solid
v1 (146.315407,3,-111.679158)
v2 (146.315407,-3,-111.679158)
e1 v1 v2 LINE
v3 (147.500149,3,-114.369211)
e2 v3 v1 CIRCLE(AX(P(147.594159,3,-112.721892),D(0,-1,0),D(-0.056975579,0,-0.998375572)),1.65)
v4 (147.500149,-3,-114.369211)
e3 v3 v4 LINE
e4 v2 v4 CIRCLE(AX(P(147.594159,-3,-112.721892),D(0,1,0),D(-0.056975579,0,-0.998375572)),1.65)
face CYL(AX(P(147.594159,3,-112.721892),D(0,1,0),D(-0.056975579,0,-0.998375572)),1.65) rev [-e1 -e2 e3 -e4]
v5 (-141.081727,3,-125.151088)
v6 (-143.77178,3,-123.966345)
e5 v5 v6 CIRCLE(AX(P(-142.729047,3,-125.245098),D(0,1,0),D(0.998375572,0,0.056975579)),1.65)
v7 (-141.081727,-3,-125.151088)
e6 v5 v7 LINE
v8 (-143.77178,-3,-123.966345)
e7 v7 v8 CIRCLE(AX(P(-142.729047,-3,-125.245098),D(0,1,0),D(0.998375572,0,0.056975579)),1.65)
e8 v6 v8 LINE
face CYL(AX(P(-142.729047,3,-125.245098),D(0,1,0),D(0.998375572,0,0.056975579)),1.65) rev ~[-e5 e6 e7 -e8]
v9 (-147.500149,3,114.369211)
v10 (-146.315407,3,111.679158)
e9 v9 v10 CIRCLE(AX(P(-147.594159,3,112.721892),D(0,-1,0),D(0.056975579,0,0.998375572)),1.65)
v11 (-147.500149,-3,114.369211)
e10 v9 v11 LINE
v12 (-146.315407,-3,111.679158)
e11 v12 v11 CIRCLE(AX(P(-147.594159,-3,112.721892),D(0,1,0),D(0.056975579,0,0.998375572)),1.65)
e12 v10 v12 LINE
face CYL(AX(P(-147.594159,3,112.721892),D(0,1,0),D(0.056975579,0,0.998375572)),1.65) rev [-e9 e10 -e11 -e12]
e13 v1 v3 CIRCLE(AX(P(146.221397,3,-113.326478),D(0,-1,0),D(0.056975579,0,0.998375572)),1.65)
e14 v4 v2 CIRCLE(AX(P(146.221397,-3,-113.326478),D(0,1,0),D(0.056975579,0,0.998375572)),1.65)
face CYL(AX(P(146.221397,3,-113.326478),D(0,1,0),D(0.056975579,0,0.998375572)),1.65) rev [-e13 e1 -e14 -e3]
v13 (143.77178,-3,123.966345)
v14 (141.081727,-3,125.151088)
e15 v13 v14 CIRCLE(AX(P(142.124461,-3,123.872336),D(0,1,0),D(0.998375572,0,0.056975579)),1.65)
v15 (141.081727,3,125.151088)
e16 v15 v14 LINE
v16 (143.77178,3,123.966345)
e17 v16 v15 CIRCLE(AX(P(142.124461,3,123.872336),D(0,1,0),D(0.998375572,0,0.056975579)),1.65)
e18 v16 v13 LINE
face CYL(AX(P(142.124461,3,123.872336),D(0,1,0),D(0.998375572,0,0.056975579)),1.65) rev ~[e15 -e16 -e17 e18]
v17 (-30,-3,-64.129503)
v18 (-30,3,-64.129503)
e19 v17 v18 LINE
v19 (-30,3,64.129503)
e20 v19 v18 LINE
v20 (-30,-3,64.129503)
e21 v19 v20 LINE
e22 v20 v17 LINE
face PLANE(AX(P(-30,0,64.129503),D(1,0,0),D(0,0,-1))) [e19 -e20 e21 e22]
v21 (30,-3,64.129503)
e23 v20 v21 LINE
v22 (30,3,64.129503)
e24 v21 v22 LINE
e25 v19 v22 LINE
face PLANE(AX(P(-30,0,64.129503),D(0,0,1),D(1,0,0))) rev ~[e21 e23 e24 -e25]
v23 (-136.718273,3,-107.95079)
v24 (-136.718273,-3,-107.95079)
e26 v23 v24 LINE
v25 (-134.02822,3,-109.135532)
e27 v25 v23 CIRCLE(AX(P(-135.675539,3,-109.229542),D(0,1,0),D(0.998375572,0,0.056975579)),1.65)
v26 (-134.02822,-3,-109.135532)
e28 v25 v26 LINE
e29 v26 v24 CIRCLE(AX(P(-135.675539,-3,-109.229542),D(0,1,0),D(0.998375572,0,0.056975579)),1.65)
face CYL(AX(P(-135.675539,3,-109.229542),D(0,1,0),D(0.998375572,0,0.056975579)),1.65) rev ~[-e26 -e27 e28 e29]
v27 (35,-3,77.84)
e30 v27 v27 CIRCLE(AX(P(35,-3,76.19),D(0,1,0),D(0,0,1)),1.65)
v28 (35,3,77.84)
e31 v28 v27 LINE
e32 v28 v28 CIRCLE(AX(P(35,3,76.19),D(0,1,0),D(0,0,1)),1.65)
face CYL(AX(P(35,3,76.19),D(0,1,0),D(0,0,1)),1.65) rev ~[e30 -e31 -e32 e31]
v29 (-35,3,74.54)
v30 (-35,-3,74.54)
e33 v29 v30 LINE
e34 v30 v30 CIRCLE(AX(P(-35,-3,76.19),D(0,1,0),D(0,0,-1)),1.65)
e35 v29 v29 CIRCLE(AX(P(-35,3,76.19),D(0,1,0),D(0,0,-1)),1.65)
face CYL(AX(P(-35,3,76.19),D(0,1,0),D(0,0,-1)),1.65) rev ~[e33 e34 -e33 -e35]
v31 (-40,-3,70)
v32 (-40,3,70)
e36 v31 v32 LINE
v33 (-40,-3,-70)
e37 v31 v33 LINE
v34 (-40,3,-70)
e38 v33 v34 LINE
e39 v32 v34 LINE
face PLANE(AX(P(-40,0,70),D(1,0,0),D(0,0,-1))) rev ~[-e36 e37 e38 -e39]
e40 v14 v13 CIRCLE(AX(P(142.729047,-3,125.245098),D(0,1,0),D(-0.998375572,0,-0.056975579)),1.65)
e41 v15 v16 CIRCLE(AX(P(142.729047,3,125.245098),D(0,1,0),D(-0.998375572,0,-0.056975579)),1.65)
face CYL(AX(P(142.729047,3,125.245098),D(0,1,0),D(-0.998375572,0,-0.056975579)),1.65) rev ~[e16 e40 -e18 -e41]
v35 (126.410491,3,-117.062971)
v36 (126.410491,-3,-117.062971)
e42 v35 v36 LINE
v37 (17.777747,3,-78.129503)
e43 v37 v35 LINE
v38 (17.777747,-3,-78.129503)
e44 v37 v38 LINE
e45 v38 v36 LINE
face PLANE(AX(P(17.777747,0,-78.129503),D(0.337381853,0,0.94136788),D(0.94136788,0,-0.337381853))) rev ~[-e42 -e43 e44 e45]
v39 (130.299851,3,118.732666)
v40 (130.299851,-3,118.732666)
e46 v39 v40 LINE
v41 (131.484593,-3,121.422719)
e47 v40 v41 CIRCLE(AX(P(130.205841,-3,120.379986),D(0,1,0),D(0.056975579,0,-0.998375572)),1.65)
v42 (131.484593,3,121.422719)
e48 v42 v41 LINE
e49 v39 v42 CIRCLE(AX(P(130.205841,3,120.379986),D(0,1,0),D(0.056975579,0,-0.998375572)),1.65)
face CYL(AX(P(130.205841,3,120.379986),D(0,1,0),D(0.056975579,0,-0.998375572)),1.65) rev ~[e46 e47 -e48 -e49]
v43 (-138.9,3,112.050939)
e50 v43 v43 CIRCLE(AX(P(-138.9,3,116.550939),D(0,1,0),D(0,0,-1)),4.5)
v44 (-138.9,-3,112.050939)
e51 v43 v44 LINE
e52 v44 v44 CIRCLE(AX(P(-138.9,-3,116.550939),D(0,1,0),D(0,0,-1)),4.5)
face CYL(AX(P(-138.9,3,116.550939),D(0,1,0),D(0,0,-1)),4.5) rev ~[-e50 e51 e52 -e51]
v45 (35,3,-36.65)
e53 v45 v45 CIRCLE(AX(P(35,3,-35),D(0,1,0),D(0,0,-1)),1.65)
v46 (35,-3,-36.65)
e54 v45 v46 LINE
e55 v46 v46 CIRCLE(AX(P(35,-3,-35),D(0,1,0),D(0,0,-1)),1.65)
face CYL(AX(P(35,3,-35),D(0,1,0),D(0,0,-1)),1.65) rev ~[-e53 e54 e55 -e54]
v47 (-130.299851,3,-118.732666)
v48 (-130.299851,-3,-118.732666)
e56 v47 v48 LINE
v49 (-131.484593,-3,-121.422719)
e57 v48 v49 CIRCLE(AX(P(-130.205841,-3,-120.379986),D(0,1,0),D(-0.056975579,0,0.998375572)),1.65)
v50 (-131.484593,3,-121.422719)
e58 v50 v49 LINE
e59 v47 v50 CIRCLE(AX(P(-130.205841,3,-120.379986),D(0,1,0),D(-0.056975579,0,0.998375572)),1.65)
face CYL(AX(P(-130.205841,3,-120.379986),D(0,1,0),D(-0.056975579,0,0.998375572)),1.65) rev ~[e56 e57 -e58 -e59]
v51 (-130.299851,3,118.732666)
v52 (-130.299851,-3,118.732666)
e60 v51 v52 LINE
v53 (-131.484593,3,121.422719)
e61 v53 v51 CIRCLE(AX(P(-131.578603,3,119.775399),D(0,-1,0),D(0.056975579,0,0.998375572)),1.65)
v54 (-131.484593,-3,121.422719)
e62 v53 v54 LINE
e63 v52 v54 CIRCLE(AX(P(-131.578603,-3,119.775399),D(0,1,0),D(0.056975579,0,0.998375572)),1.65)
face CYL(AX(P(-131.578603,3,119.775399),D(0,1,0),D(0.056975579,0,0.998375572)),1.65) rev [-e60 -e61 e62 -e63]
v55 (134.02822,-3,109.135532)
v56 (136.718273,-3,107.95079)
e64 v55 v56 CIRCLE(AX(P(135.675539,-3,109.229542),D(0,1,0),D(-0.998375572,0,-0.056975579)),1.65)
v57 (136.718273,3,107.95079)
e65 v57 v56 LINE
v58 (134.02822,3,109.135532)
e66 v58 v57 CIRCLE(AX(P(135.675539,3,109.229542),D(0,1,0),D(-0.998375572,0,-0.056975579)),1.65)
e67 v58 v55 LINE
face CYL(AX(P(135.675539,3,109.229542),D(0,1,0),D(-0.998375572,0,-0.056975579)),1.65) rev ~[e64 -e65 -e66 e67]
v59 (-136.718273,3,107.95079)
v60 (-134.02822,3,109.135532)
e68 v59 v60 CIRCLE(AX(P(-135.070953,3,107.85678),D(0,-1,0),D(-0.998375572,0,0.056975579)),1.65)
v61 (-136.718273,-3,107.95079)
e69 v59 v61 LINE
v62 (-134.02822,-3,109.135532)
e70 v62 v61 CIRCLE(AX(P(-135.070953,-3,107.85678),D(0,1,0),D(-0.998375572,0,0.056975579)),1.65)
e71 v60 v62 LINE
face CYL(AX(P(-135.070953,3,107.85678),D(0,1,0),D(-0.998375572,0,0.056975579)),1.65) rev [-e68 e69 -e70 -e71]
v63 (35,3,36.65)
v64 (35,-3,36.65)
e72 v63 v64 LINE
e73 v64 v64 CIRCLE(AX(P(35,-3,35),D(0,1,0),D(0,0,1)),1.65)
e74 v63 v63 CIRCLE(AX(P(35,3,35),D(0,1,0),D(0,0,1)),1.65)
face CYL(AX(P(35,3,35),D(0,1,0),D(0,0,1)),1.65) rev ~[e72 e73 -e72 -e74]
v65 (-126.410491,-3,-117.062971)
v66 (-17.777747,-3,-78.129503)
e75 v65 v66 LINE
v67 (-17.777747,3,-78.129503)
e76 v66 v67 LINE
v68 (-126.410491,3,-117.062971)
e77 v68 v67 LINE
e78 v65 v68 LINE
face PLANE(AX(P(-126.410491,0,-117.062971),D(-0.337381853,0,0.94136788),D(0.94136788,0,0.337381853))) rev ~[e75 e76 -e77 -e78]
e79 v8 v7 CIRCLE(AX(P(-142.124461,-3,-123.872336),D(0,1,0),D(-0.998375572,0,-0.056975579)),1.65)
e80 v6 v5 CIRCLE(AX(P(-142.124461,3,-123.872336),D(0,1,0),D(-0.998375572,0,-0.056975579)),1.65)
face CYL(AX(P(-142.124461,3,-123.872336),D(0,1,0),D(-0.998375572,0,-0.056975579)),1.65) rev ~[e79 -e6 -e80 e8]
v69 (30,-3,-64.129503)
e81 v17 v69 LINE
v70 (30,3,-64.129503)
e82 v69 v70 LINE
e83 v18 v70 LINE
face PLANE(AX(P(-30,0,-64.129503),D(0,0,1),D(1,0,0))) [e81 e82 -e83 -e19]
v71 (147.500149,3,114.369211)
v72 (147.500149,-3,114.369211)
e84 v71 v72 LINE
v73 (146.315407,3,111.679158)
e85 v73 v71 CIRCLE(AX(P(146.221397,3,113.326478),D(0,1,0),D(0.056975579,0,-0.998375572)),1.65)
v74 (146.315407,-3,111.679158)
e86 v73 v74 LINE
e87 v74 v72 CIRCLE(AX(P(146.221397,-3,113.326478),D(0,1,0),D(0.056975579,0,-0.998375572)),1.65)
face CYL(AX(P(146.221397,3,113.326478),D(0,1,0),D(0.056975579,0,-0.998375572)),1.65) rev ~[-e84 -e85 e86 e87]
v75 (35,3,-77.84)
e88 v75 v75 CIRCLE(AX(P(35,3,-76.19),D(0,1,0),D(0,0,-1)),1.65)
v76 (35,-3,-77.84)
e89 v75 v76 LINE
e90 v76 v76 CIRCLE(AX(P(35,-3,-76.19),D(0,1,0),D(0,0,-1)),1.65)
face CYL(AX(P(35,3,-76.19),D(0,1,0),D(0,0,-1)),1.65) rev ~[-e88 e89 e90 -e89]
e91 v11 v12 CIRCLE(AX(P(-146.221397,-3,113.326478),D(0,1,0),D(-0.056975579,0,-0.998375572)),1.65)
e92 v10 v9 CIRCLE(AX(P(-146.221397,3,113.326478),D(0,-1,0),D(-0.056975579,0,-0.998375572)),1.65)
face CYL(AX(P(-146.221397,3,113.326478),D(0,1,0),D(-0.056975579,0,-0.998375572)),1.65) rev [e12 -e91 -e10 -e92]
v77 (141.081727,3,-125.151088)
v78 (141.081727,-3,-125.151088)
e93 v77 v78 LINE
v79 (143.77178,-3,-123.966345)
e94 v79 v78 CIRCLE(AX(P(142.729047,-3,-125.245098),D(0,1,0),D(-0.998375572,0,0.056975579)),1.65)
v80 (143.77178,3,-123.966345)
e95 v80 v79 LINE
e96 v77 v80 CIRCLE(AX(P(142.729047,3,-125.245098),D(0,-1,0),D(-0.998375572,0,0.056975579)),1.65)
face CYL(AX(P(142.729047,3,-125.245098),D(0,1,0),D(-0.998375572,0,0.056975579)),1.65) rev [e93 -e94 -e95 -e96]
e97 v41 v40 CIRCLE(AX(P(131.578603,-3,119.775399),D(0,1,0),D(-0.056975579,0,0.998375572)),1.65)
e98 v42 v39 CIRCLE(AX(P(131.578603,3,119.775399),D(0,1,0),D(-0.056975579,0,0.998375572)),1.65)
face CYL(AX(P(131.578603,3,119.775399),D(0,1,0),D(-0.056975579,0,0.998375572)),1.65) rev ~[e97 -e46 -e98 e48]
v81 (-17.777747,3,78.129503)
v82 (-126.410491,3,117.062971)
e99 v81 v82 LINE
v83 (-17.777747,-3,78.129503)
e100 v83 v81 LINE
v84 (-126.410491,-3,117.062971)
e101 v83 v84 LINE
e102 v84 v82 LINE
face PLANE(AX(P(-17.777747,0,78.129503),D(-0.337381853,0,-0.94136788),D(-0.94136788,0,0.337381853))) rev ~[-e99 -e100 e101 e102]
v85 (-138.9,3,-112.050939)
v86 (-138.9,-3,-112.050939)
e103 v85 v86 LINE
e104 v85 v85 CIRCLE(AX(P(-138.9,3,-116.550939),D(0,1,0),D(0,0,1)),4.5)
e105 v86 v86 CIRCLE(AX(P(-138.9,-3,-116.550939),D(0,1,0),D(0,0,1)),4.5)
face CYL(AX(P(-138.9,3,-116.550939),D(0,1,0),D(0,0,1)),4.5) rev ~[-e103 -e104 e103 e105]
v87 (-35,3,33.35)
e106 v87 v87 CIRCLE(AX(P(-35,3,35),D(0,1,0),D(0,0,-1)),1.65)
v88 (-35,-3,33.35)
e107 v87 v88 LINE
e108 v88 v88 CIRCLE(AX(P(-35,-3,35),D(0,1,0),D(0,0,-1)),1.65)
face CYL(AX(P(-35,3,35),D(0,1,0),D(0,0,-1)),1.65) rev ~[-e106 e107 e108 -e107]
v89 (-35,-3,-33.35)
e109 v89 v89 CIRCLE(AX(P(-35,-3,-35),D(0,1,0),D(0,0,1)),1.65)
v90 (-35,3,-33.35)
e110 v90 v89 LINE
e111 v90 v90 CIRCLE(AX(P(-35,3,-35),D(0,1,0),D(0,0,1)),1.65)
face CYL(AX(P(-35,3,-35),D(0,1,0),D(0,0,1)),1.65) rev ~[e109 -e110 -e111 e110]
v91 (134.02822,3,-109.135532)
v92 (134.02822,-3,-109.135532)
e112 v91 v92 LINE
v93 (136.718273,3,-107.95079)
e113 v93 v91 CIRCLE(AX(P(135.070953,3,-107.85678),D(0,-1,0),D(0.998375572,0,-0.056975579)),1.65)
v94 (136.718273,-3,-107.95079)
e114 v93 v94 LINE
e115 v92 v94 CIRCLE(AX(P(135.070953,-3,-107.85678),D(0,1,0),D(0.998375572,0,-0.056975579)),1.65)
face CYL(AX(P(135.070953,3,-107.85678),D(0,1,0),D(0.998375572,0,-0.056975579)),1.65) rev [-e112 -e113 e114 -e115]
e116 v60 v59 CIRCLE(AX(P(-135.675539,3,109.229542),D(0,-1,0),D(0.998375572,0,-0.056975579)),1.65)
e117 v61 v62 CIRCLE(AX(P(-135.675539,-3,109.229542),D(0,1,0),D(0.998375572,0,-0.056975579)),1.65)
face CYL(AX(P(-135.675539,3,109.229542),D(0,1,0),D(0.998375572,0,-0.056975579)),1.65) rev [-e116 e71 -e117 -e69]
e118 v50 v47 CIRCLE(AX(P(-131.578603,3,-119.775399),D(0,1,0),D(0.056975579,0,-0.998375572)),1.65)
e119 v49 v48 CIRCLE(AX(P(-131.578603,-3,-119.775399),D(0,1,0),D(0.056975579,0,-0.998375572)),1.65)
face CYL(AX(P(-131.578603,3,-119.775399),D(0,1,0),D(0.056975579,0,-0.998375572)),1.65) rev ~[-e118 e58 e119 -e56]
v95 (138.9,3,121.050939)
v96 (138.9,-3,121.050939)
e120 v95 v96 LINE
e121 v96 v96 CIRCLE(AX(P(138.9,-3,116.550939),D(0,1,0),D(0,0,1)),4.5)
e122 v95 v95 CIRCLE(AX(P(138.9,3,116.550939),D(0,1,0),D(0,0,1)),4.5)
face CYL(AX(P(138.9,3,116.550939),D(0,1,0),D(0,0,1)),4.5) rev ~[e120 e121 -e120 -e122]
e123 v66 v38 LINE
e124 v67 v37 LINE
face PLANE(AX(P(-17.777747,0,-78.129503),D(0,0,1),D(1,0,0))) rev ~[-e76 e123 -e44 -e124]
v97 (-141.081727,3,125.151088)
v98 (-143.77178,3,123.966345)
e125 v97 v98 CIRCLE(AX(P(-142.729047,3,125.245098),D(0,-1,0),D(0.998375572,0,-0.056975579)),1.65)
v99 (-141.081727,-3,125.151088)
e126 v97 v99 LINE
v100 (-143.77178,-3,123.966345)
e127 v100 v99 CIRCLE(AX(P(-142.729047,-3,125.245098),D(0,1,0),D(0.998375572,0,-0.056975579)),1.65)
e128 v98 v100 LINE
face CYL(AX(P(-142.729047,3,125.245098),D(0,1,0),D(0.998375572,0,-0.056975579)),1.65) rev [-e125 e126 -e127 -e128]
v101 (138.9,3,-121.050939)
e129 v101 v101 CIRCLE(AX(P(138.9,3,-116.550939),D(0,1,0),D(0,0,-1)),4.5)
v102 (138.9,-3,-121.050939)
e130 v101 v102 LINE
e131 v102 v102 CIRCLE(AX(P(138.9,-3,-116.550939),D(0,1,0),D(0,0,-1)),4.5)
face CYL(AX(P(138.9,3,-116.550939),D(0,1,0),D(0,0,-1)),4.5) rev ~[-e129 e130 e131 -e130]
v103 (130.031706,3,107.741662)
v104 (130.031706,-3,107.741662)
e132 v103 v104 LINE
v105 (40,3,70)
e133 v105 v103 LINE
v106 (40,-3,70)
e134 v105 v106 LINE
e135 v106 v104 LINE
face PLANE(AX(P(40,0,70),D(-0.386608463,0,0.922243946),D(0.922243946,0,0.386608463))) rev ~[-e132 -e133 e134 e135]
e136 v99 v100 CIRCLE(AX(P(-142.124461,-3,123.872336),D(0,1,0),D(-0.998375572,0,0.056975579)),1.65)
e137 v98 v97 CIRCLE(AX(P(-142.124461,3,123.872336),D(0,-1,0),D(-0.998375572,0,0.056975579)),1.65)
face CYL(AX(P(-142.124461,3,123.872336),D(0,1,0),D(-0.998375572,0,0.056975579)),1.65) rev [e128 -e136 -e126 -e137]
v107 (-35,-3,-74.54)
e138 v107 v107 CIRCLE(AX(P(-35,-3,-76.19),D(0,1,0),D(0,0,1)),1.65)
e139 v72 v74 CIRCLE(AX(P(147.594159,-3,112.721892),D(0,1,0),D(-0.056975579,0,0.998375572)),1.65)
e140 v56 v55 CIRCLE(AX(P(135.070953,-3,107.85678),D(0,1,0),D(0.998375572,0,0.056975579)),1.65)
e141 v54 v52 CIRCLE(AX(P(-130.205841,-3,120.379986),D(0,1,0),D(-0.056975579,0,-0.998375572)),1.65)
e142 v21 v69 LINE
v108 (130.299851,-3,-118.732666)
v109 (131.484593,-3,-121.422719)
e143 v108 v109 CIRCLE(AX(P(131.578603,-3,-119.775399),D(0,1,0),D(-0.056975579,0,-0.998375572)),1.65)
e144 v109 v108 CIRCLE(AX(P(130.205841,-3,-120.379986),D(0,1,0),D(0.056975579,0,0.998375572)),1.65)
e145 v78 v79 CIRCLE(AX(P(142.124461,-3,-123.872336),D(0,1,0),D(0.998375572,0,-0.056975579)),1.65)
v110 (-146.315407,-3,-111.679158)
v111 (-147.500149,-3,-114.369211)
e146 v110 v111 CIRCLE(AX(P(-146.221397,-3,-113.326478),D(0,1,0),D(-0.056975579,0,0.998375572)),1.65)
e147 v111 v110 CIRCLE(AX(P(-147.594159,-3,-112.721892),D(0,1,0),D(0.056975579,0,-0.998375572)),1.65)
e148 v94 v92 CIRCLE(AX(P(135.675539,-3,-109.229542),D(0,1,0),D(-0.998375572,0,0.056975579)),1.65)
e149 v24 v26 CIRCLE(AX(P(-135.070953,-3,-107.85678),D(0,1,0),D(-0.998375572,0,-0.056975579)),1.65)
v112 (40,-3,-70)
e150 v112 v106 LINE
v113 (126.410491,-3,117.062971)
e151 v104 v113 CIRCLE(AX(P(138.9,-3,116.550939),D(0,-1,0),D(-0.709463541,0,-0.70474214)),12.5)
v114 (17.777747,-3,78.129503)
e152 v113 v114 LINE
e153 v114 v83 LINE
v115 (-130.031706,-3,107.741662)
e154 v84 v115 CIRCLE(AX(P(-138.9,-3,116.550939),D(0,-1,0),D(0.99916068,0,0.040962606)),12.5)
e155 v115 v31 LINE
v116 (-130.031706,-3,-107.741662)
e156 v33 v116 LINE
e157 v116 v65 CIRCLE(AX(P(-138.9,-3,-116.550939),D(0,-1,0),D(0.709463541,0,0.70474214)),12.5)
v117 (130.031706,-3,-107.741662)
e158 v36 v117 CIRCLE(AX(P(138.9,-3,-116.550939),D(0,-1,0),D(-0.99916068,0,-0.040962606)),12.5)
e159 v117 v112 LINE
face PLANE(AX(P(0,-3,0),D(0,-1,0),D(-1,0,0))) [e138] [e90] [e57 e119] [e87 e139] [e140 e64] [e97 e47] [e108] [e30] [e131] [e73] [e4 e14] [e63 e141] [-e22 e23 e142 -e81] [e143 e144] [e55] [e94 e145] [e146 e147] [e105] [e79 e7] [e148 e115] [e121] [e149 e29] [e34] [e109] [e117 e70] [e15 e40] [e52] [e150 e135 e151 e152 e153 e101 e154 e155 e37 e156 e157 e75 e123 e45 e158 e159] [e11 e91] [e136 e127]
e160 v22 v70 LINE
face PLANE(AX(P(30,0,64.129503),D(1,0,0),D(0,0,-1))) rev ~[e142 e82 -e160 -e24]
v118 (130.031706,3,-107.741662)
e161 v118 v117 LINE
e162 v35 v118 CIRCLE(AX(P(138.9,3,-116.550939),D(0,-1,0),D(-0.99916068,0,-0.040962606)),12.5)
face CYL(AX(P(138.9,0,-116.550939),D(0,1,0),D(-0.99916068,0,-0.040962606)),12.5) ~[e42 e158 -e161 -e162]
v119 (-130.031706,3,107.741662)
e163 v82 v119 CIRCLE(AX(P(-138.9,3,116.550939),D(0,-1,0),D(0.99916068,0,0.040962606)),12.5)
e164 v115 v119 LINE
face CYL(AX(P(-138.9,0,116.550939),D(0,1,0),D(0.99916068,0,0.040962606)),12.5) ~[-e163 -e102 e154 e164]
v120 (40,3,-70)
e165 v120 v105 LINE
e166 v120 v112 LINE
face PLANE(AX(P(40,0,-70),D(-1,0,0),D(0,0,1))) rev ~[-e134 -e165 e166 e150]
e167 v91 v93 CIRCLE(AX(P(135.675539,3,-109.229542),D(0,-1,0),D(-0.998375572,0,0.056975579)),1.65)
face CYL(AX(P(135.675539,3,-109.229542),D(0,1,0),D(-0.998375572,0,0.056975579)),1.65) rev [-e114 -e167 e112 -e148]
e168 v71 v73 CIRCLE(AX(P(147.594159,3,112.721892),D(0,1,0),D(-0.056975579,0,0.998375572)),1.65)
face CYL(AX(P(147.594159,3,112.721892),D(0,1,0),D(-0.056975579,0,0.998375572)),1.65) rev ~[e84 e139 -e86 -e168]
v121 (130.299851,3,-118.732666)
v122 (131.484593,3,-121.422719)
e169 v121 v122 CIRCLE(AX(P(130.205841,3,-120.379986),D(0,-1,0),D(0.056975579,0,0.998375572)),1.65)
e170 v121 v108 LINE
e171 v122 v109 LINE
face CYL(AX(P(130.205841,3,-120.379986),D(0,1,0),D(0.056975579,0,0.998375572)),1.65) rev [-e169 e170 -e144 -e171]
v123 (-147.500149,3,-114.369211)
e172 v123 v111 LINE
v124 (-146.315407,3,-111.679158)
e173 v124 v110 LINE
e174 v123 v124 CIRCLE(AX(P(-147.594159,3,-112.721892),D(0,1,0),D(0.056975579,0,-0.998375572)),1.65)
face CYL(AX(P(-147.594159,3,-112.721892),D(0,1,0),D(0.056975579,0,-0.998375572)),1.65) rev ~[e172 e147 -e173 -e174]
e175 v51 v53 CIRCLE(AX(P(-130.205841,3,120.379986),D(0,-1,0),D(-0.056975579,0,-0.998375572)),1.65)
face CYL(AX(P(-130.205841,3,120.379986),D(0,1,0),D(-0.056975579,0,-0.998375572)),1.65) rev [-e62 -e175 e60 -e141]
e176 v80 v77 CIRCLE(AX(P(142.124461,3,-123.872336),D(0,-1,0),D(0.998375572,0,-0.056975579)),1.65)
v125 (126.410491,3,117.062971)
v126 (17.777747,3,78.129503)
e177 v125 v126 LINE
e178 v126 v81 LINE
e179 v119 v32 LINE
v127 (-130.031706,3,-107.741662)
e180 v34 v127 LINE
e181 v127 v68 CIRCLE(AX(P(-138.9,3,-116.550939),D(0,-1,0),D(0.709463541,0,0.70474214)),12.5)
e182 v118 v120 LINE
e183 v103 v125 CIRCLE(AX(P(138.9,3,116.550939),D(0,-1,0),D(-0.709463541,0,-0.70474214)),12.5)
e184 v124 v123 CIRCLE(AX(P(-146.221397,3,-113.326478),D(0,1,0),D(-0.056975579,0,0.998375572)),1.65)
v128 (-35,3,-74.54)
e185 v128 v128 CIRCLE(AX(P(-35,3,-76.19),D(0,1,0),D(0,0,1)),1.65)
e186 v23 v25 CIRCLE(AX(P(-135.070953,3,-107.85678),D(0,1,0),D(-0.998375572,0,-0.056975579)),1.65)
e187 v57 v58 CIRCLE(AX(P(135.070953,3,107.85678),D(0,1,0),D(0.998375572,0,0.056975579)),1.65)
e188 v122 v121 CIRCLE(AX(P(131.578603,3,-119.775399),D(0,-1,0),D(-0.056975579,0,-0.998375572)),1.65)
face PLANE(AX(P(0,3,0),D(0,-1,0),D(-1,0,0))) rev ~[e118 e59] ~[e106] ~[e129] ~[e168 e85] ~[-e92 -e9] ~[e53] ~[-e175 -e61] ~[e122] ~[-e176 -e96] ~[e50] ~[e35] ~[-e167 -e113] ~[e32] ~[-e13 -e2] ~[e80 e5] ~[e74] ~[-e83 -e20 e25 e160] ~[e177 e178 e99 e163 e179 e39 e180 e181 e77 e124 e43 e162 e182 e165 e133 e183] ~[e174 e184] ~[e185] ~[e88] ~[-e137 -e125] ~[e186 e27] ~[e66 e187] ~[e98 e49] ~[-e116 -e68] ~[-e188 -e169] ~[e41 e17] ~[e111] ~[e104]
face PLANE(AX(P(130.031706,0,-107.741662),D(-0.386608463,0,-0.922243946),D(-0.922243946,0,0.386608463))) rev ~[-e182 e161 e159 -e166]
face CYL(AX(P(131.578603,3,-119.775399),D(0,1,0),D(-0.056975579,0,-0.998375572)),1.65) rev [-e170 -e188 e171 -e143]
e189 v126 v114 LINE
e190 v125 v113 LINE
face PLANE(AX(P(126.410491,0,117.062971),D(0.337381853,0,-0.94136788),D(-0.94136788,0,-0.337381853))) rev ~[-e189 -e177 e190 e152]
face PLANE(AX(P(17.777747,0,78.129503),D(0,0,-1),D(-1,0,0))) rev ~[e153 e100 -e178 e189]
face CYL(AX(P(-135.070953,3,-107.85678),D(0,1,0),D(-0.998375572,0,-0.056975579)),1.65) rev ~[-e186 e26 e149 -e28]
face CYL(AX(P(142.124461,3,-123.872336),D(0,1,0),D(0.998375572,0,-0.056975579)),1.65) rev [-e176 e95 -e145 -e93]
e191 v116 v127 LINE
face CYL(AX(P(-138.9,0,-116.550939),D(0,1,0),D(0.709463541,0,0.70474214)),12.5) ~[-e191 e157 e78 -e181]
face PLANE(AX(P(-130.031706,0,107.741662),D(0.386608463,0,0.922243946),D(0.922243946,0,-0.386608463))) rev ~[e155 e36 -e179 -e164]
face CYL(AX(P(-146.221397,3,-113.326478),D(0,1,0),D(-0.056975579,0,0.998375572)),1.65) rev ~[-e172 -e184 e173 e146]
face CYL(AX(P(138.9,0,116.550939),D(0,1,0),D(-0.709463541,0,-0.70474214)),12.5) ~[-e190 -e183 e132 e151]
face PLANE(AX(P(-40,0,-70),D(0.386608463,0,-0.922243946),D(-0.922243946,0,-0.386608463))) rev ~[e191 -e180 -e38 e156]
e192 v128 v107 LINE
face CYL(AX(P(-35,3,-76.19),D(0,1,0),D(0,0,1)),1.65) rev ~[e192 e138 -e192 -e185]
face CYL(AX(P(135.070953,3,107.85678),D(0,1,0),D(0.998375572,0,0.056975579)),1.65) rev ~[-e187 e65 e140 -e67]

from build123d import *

# Parameters (mm, degrees)
SKETCH_1_W          = 60
SKETCH_1_H          = 128.259005876
EXTRUDE_1_DEPTH     = 3
SKETCH_2_R          = 4.5
CUT_EXTRUDE_1_DEPTH = 200.027899546
SKETCH_3_R          = 1.65
CUT_EXTRUDE_2_DEPTH = 200.027899546


with BuildPart() as part:
    # Эскиз1 → Бобышка-Вытянуть1 (new, symmetric)
    with BuildSketch(Plane(origin=(0, 0, 0), x_dir=(1, 0, 0), z_dir=(0, 1, 0))):
        with BuildLine():
            Line((-17.777747069, 78.129502938), (17.777747069, 78.129502938))
            Line((17.777747069, 78.129502938), (126.410491497, 117.062971345))
            ThreePointArc((126.410491497, 117.062971345), (150.551636651, 121.077456566), (130.031705733, 107.741662024))
            Line((130.031705733, 107.741662024), (40, 70))
            Line((40, 70), (40, -70))
            Line((40, -70), (130.031705733, -107.741662024))
            ThreePointArc((130.031705733, -107.741662024), (150.551636651, -121.077456566), (126.410491497, -117.062971345))
            Line((126.410491497, -117.062971345), (17.777747069, -78.129502938))
            Line((17.777747069, -78.129502938), (-17.777747069, -78.129502938))
            Line((-17.777747069, -78.129502938), (-126.410491497, -117.062971345))
            ThreePointArc((-126.410491497, -117.062971345), (-150.551636651, -121.077456566), (-130.031705733, -107.741662024))
            Line((-130.031705733, -107.741662024), (-40, -70))
            Line((-40, -70), (-40, 70))
            Line((-40, 70), (-130.031705733, 107.741662024))
            ThreePointArc((-130.031705733, 107.741662024), (-150.551636651, 121.077456566), (-126.410491497, 117.062971345))
            Line((-126.410491497, 117.062971345), (-17.777747069, 78.129502938))
        make_face()
        Rectangle(SKETCH_1_W, SKETCH_1_H, mode=Mode.SUBTRACT)
    extrude(amount=EXTRUDE_1_DEPTH, both=True)

    # Эскиз2 → Вырез-Вытянуть1 (cut, through all)
    with BuildSketch(Plane(origin=(0, 3, 0), x_dir=(1, 0, 0), z_dir=(0, 1, 0))):
        with Locations(Location((-138.9, 116.550938771, 0), (0, 0, 270))):
            Circle(SKETCH_2_R)
        with Locations(Location((138.9, 116.550938771, 0), (0, 0, 90))):
            Circle(SKETCH_2_R)
        with Locations(Location((138.9, -116.550938771, 0), (0, 0, 270))):
            Circle(SKETCH_2_R)
        with Locations(Location((-138.9, -116.550938771, 0), (0, 0, 90))):
            Circle(SKETCH_2_R)
        with BuildLine():
            ThreePointArc((-141.081727399, 125.151087929), (-143.394092115, 126.755135753), (-143.771780405, 123.966345414))
            ThreePointArc((-143.771780405, 123.966345414), (-141.459415689, 122.36229759), (-141.081727399, 125.151087929))
        make_face()
        with BuildLine():
            ThreePointArc((-130.299850841, 118.73266617), (-128.695803017, 121.045030885), (-131.484593356, 121.422719175))
            ThreePointArc((-131.484593356, 121.422719175), (-133.08864118, 119.110354459), (-130.299850841, 118.73266617))
        make_face()
        with BuildLine():
            ThreePointArc((-136.718272601, 107.950789612), (-134.405907885, 106.346741788), (-134.028219595, 109.135532127))
            ThreePointArc((-134.028219595, 109.135532127), (-136.340584311, 110.739579951), (-136.718272601, 107.950789612))
        make_face()
        with BuildLine():
            ThreePointArc((-147.500149159, 114.369211371), (-149.104196983, 112.056846656), (-146.315406644, 111.679158366))
            ThreePointArc((-146.315406644, 111.679158366), (-144.71135882, 113.991523082), (-147.500149159, 114.369211371))
        make_face()
        with BuildLine():
            ThreePointArc((146.315406644, 111.679158366), (144.71135882, 113.991523082), (147.500149159, 114.369211371))
            ThreePointArc((147.500149159, 114.369211371), (149.104196983, 112.056846656), (146.315406644, 111.679158366))
        make_face()
        with BuildLine():
            ThreePointArc((134.028219595, 109.135532127), (136.340584311, 110.739579951), (136.718272601, 107.950789612))
            ThreePointArc((136.718272601, 107.950789612), (134.405907885, 106.346741788), (134.028219595, 109.135532127))
        make_face()
        with BuildLine():
            ThreePointArc((131.484593356, 121.422719175), (133.08864118, 119.110354459), (130.299850841, 118.73266617))
            ThreePointArc((130.299850841, 118.73266617), (128.695803017, 121.045030885), (131.484593356, 121.422719175))
        make_face()
        with BuildLine():
            ThreePointArc((143.771780405, 123.966345414), (141.459415689, 122.36229759), (141.081727399, 125.151087929))
            ThreePointArc((141.081727399, 125.151087929), (143.394092115, 126.755135753), (143.771780405, 123.966345414))
        make_face()
        with BuildLine():
            ThreePointArc((141.081727399, -125.151087929), (143.394092115, -126.755135753), (143.771780405, -123.966345414))
            ThreePointArc((143.771780405, -123.966345414), (141.459415689, -122.36229759), (141.081727399, -125.151087929))
        make_face()
        with BuildLine():
            ThreePointArc((130.299850841, -118.73266617), (128.695803017, -121.045030885), (131.484593356, -121.422719175))
            ThreePointArc((131.484593356, -121.422719175), (133.08864118, -119.110354459), (130.299850841, -118.73266617))
        make_face()
        with BuildLine():
            ThreePointArc((136.718272601, -107.950789612), (134.405907885, -106.346741788), (134.028219595, -109.135532127))
            ThreePointArc((134.028219595, -109.135532127), (136.340584311, -110.739579951), (136.718272601, -107.950789612))
        make_face()
        with BuildLine():
            ThreePointArc((147.500149159, -114.369211371), (149.104196983, -112.056846656), (146.315406644, -111.679158366))
            ThreePointArc((146.315406644, -111.679158366), (144.71135882, -113.991523082), (147.500149159, -114.369211371))
        make_face()
        with BuildLine():
            ThreePointArc((-146.315406644, -111.679158366), (-144.71135882, -113.991523082), (-147.500149159, -114.369211371))
            ThreePointArc((-147.500149159, -114.369211371), (-149.104196983, -112.056846656), (-146.315406644, -111.679158366))
        make_face()
        with BuildLine():
            ThreePointArc((-134.028219595, -109.135532127), (-136.340584311, -110.739579951), (-136.718272601, -107.950789612))
            ThreePointArc((-136.718272601, -107.950789612), (-134.405907885, -106.346741788), (-134.028219595, -109.135532127))
        make_face()
        with BuildLine():
            ThreePointArc((-131.484593356, -121.422719175), (-133.08864118, -119.110354459), (-130.299850841, -118.73266617))
            ThreePointArc((-130.299850841, -118.73266617), (-128.695803017, -121.045030885), (-131.484593356, -121.422719175))
        make_face()
        with BuildLine():
            ThreePointArc((-143.771780405, -123.966345414), (-141.459415689, -122.36229759), (-141.081727399, -125.151087929))
            ThreePointArc((-141.081727399, -125.151087929), (-143.394092115, -126.755135753), (-143.771780405, -123.966345414))
        make_face()
    extrude(amount=-CUT_EXTRUDE_1_DEPTH, mode=Mode.SUBTRACT)

    # Эскиз3 → Вырез-Вытянуть2 (cut, through all)
    with BuildSketch(Plane(origin=(0, 3, 0), x_dir=(1, 0, 0), z_dir=(0, 1, 0))):
        with Locations(Location((-35, 76.19, 0), (0, 0, 270))):
            Circle(SKETCH_3_R)
        with Locations(Location((-35, 35, 0), (0, 0, 270))):
            Circle(SKETCH_3_R)
        with Locations(Location((-35, -35, 0), (0, 0, 90))):
            Circle(SKETCH_3_R)
        with Locations(Location((-35, -76.19, 0), (0, 0, 90))):
            Circle(SKETCH_3_R)
        with Locations(Location((35, -76.19, 0), (0, 0, 270))):
            Circle(SKETCH_3_R)
        with Locations(Location((35, -35, 0), (0, 0, 270))):
            Circle(SKETCH_3_R)
        with Locations(Location((35, 35, 0), (0, 0, 90))):
            Circle(SKETCH_3_R)
        with Locations(Location((35, 76.19, 0), (0, 0, 90))):
            Circle(SKETCH_3_R)
    extrude(amount=-CUT_EXTRUDE_2_DEPTH, mode=Mode.SUBTRACT)


solid = part.part
